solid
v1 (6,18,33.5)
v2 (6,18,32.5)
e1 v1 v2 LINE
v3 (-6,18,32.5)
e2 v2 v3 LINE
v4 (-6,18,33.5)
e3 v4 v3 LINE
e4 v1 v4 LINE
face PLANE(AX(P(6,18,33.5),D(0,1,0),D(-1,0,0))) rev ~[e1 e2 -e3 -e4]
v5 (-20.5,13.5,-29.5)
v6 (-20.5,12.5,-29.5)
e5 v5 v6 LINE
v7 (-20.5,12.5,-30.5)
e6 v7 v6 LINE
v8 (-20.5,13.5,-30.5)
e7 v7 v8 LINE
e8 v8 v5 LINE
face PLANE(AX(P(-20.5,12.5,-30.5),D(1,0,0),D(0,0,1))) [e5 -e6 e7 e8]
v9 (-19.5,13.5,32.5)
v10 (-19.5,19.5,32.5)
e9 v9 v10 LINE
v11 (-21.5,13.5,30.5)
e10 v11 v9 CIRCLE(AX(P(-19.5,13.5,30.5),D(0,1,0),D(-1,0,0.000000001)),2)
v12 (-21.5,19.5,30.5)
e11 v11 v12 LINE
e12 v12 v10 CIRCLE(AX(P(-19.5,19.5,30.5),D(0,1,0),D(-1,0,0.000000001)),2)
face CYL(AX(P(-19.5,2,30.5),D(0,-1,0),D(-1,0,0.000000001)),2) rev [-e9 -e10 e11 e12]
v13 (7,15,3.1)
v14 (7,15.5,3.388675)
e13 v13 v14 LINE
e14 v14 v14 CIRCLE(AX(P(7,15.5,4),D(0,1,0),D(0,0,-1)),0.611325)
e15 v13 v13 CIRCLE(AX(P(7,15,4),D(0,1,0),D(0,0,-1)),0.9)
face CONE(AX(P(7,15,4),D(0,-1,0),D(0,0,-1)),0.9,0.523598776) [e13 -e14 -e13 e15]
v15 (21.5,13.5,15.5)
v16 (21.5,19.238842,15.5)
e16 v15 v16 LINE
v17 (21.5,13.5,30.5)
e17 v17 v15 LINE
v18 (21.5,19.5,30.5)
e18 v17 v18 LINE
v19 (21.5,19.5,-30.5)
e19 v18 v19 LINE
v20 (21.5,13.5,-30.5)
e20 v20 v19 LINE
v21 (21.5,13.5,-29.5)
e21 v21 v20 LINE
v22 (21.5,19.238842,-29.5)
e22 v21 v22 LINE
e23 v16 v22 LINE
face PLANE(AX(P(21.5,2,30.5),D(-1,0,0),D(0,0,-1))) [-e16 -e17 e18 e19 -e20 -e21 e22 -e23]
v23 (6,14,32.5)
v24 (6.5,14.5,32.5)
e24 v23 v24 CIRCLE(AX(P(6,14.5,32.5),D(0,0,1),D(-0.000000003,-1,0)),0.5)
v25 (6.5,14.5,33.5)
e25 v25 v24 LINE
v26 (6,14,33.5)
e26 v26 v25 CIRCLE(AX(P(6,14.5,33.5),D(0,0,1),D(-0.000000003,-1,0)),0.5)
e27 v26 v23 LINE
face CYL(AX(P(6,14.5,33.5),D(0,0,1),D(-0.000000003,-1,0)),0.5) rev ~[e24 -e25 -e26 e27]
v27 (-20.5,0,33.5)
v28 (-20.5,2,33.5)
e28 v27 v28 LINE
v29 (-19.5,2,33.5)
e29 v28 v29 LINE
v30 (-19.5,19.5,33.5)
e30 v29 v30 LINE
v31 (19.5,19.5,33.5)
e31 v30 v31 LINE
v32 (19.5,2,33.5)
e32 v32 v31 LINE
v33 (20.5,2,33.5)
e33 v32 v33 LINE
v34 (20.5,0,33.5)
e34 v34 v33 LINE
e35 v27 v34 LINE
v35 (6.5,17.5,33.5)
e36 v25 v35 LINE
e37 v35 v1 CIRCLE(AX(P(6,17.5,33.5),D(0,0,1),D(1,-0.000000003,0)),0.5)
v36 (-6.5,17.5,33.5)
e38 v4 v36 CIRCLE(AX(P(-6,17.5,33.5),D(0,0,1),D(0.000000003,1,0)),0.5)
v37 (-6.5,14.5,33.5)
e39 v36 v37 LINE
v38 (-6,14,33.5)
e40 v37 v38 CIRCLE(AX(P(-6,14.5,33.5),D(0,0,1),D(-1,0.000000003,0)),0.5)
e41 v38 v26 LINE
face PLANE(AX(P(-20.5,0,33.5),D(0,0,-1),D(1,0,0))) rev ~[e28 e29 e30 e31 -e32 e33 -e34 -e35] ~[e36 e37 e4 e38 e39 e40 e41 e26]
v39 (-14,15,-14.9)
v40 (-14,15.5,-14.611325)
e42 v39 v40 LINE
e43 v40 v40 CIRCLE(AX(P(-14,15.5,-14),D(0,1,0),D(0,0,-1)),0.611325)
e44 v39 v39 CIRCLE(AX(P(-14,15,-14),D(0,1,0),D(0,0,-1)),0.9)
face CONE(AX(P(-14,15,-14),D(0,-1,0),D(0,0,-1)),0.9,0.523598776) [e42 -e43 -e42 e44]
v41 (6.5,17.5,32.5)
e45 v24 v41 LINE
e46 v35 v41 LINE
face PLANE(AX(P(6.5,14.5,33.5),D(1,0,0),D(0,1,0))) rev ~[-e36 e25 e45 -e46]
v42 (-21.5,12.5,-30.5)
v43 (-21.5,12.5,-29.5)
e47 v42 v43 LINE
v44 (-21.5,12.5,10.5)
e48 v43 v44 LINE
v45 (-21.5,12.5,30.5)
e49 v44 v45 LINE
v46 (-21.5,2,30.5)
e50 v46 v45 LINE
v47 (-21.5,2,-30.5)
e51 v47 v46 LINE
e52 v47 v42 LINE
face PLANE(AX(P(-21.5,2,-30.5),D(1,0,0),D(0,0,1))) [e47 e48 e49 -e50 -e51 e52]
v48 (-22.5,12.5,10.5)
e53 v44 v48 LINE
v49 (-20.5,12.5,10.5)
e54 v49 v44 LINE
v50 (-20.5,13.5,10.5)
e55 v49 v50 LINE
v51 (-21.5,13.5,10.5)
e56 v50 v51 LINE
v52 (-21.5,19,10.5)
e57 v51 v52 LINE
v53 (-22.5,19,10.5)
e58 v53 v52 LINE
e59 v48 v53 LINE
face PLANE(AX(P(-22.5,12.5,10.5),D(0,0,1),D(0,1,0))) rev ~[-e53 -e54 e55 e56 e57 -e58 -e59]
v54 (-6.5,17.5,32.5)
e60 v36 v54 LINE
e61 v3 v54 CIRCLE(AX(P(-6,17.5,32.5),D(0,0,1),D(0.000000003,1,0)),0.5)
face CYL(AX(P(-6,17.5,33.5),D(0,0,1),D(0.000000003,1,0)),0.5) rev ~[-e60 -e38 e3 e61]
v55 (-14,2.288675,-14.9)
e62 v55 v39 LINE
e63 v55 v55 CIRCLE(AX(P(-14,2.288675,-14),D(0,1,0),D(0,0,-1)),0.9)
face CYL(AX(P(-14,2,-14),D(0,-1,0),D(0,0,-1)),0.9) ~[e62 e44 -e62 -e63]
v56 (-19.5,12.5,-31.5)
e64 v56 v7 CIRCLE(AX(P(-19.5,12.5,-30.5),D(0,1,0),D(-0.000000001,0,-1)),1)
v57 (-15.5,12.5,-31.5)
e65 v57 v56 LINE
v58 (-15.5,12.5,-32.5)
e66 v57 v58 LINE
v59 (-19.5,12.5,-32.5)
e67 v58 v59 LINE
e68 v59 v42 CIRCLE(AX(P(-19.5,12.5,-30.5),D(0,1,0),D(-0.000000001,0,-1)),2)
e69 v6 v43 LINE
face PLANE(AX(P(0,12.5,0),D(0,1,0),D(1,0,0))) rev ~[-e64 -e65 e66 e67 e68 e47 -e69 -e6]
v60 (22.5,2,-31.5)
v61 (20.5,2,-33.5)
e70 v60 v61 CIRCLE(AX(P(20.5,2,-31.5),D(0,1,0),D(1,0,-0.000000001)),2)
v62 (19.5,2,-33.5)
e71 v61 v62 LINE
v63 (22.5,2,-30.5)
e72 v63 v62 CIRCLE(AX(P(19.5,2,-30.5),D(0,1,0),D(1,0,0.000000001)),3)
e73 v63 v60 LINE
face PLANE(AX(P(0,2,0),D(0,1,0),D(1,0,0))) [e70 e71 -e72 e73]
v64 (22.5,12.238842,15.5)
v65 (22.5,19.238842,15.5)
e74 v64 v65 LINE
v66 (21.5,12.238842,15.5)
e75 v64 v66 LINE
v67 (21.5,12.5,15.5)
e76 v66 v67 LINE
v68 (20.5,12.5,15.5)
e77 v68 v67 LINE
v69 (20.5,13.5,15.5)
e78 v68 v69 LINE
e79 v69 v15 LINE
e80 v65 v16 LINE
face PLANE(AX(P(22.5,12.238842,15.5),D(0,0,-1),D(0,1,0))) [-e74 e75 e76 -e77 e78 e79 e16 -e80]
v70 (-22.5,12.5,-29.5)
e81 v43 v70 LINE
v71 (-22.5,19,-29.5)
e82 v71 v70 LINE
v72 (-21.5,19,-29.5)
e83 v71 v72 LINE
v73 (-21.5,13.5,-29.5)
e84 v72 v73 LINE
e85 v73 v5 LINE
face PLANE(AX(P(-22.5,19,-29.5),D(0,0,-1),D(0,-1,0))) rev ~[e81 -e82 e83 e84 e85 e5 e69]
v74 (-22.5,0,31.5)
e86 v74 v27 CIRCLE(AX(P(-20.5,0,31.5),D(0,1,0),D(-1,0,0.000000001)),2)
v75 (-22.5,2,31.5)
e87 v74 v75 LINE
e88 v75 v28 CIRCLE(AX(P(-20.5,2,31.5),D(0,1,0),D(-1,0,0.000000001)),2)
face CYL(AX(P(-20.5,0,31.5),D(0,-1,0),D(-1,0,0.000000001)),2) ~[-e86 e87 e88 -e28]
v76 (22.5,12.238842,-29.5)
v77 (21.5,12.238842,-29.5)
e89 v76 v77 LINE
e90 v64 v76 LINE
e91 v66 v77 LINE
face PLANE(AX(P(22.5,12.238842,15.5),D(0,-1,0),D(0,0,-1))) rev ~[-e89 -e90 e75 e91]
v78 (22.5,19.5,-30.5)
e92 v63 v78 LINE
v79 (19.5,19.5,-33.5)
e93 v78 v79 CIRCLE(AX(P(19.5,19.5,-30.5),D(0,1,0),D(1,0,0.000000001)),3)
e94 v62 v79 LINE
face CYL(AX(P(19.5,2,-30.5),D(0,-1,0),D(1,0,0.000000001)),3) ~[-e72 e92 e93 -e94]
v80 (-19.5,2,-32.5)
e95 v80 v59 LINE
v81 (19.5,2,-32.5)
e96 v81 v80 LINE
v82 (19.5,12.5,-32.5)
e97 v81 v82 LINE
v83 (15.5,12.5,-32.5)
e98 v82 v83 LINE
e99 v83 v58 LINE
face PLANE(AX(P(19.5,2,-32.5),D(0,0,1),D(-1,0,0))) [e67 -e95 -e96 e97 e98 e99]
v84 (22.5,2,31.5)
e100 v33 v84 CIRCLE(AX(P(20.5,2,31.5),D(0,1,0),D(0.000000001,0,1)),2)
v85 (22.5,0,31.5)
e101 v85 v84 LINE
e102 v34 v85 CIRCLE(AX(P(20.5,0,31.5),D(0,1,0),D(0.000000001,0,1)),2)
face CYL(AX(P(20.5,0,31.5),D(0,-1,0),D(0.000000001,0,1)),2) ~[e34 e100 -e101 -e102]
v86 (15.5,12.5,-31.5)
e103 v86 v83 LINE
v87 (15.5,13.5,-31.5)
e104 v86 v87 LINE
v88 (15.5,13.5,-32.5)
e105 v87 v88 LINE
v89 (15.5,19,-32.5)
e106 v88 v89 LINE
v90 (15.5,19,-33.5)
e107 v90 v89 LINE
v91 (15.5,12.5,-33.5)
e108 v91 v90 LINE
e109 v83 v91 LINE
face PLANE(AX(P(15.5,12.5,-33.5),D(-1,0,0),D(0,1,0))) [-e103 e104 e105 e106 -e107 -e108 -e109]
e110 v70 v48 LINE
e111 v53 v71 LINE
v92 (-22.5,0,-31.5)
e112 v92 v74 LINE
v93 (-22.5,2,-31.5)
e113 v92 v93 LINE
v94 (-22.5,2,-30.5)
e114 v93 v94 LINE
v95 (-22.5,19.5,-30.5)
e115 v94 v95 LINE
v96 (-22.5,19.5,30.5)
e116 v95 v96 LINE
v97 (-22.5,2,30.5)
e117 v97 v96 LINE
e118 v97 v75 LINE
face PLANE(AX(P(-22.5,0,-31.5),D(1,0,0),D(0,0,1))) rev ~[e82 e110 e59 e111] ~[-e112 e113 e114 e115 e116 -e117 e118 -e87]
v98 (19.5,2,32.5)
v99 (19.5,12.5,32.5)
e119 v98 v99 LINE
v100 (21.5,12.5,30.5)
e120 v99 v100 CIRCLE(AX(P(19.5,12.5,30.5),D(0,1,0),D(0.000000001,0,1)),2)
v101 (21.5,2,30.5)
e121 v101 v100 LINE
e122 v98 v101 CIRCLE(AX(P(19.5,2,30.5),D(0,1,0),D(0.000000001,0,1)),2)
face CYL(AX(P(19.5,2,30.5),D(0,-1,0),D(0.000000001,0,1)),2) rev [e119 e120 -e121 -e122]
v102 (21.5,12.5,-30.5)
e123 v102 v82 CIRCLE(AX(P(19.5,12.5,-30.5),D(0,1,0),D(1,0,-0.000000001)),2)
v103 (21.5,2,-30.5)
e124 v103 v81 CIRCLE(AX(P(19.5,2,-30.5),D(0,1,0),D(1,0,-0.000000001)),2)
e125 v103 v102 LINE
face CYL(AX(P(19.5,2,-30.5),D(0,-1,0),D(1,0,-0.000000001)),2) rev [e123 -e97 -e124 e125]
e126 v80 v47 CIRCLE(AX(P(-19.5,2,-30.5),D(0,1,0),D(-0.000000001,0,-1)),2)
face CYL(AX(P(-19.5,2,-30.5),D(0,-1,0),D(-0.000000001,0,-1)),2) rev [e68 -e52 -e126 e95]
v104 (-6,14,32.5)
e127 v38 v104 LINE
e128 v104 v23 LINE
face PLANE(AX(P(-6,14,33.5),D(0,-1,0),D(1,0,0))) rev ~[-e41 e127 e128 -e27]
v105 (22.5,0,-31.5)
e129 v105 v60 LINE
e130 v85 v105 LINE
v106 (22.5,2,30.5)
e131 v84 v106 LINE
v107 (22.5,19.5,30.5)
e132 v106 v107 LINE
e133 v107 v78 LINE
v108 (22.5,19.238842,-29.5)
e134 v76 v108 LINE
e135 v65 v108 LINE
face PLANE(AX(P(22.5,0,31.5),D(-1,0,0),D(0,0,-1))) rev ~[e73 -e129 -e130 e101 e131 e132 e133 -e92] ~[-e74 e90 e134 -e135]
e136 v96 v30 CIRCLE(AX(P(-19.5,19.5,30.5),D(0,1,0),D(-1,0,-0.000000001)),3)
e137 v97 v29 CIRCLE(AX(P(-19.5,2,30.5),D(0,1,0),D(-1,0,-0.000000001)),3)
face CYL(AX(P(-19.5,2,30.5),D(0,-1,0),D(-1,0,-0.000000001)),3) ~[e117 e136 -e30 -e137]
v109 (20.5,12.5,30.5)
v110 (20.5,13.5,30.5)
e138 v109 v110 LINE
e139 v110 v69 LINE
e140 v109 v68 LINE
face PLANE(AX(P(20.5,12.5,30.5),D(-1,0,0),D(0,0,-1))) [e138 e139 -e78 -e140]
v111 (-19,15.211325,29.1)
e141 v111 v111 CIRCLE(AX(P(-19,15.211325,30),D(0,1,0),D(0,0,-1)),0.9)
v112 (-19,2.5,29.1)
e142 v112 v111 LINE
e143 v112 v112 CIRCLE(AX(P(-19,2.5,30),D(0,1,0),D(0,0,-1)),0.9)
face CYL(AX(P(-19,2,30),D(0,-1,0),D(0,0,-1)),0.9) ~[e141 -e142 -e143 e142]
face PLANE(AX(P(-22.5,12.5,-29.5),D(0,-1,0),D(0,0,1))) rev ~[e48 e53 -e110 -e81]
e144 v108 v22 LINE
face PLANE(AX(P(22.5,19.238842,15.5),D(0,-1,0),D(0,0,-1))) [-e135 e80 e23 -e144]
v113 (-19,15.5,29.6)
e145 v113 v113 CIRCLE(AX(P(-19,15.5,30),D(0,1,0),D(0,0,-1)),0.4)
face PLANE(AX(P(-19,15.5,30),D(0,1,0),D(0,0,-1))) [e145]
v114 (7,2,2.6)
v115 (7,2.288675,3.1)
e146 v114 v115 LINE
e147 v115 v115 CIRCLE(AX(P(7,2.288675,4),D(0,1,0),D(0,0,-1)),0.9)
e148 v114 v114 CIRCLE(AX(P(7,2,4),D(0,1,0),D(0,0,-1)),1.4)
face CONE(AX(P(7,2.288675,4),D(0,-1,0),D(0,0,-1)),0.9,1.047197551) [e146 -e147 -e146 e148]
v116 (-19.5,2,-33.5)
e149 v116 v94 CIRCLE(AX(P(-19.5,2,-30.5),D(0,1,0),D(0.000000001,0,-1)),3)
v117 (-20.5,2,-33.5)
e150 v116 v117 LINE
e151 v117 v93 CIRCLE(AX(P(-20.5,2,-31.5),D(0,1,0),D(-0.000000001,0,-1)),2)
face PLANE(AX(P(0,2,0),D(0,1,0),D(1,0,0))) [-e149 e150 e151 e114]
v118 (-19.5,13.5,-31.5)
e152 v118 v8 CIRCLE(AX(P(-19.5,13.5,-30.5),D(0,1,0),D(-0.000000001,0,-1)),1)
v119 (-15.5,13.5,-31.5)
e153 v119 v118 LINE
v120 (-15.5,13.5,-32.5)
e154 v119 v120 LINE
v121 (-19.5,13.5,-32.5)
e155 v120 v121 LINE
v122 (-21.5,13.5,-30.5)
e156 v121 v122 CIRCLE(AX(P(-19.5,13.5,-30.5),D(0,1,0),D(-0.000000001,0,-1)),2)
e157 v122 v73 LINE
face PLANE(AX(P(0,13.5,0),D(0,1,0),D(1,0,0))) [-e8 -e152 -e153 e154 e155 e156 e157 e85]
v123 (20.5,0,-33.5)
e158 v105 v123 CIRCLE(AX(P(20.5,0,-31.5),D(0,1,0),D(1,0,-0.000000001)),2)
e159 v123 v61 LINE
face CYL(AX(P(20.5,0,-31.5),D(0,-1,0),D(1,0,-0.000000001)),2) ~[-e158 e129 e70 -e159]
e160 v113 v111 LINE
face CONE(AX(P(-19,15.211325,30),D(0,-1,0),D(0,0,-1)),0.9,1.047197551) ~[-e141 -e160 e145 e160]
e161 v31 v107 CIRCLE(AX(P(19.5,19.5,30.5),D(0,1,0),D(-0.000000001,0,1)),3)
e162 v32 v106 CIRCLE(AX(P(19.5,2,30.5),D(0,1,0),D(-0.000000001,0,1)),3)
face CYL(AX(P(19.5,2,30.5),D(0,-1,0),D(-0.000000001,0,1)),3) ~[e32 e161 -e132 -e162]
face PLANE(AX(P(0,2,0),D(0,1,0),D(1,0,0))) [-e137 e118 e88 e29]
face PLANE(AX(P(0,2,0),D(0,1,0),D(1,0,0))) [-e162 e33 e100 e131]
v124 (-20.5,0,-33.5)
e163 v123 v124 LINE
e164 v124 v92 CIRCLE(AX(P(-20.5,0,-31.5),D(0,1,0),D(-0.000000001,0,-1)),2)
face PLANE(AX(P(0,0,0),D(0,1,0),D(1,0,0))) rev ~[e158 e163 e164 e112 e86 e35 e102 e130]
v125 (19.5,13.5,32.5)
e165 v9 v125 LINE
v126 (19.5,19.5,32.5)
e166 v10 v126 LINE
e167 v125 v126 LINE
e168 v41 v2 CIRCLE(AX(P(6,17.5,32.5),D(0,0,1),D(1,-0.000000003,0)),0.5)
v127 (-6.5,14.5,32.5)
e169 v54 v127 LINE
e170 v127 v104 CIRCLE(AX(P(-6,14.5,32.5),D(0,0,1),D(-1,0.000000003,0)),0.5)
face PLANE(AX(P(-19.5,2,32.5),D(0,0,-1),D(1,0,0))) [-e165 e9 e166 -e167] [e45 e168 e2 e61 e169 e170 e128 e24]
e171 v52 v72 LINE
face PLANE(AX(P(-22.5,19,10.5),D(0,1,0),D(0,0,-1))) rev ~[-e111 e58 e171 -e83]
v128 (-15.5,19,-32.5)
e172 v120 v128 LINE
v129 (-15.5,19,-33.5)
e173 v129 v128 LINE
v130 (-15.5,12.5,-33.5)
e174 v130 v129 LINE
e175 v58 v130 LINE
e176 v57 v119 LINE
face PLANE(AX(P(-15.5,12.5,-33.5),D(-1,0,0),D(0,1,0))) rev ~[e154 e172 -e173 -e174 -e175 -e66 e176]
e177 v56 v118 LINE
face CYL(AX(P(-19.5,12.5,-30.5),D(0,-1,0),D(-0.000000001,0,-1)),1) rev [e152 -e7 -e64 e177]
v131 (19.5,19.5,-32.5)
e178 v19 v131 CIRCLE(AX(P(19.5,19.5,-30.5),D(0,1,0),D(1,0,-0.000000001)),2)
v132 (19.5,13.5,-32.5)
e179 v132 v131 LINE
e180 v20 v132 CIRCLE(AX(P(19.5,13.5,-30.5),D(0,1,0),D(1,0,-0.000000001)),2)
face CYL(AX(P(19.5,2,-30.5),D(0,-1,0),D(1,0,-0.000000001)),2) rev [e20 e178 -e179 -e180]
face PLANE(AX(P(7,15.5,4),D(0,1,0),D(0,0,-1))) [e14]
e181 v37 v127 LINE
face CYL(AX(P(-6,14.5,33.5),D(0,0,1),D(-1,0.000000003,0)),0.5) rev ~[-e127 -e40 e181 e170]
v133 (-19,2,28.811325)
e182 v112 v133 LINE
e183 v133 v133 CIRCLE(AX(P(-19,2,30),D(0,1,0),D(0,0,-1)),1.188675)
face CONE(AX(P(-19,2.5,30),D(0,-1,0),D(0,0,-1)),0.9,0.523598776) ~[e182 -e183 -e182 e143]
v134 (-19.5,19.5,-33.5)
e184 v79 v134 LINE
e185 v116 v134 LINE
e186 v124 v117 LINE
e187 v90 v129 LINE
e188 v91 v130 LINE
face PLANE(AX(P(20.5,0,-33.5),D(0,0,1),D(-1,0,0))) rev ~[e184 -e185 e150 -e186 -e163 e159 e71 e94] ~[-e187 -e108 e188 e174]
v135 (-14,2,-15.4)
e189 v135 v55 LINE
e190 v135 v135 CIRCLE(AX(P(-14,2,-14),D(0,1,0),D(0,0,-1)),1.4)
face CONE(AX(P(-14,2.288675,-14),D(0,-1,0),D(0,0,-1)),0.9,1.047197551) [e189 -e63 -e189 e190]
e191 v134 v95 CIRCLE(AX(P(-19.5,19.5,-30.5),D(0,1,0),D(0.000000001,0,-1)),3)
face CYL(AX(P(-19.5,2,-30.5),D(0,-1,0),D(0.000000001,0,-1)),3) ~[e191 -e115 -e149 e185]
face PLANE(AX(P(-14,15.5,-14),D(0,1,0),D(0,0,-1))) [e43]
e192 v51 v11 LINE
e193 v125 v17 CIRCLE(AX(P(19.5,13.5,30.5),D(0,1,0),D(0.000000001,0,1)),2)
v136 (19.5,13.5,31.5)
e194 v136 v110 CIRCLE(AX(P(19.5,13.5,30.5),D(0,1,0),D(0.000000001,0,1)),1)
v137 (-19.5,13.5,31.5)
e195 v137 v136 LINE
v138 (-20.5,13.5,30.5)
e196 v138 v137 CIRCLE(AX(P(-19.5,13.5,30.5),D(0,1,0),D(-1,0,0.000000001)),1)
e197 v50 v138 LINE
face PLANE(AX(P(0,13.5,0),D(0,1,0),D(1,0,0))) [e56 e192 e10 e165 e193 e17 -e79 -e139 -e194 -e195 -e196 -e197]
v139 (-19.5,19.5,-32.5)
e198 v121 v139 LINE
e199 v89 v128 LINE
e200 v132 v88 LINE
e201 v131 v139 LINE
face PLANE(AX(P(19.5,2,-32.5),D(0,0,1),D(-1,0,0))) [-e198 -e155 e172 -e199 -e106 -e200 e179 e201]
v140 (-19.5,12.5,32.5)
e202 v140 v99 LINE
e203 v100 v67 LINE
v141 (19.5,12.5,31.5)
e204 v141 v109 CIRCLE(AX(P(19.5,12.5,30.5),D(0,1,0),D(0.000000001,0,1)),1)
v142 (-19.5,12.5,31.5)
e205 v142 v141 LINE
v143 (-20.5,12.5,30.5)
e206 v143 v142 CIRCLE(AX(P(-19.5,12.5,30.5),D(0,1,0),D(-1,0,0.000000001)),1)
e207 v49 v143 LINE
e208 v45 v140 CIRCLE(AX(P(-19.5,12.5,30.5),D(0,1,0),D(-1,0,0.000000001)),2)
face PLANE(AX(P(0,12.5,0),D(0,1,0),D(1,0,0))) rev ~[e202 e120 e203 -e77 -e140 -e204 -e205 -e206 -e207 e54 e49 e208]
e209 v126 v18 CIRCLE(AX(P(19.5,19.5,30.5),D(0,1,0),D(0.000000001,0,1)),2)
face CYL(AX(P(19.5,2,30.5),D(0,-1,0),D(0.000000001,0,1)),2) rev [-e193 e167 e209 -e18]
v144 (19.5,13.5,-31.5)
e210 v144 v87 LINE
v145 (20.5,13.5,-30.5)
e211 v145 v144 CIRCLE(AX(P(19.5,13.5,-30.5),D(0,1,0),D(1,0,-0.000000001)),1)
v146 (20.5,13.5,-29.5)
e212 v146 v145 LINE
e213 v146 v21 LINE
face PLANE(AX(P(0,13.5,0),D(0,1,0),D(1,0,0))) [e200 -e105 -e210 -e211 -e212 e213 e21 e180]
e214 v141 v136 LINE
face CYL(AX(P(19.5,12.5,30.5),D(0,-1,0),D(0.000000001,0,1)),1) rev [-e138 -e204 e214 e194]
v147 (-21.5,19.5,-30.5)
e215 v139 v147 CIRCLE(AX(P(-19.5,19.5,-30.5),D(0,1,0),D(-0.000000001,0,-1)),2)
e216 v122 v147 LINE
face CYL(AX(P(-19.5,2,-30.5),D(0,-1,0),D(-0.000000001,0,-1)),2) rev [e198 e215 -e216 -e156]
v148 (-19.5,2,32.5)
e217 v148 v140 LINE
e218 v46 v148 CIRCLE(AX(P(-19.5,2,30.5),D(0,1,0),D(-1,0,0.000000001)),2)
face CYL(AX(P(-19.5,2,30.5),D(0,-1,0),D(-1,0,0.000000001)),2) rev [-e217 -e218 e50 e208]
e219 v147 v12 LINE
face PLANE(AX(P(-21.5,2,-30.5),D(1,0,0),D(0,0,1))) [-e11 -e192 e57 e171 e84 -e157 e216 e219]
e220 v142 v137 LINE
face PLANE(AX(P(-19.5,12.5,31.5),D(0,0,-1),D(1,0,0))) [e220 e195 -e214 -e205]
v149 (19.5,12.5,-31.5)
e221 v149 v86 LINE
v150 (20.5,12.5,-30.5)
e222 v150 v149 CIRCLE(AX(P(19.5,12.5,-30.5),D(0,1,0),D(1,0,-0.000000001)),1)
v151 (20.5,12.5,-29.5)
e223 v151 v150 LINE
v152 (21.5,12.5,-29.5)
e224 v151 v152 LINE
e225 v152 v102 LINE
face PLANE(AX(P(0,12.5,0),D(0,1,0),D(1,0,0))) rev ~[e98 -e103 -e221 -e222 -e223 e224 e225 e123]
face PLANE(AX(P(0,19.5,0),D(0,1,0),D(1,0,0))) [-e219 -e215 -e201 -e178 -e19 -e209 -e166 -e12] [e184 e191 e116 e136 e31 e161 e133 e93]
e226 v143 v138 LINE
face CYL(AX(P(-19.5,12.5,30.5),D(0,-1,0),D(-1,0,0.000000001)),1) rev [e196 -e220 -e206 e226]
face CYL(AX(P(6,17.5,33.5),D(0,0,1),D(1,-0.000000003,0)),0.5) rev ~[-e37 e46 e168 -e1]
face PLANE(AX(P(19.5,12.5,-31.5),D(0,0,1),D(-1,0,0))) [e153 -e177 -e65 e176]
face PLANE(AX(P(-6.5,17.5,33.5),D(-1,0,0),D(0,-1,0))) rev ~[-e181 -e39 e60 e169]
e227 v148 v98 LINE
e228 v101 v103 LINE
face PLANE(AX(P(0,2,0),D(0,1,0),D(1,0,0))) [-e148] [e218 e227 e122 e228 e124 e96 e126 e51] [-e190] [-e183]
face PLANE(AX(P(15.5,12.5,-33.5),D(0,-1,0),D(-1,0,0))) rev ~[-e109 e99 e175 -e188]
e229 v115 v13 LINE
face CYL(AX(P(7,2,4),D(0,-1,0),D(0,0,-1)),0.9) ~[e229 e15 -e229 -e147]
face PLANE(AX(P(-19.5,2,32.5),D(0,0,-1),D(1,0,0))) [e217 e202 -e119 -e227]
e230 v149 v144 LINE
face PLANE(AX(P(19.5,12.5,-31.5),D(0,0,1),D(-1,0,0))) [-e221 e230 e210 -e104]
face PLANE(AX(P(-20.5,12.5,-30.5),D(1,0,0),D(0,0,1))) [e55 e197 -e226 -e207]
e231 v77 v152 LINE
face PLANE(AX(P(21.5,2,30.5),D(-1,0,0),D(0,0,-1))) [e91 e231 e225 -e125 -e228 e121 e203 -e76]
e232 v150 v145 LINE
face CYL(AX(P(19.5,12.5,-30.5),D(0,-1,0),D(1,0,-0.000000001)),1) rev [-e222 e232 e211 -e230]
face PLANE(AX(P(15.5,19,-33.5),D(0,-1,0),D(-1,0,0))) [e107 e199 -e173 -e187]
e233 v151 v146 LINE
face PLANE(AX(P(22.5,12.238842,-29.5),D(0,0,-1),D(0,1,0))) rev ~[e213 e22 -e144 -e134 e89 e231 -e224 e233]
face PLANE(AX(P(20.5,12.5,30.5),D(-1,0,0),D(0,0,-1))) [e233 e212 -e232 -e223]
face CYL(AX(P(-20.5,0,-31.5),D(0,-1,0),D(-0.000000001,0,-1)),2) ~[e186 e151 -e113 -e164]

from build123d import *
from OCP.BRepFilletAPI import BRepFilletAPI_MakeChamfer

# Parameters (mm, degrees)
EXTRUDE_1_DEPTH     = 2
EXTRUDE_2_DEPTH     = 17.5
SKETCH_3_R          = 0.9
EXTRUDE_3_DEPTH     = 13.5
CHAMFER_2_SIZE      = 0.5
CHAMFER_2_SIZE2     = 0.288675135
CHAMFER_3_SIZE      = 0.5
CHAMFER_3_SIZE2     = 0.288675135
CHAMFER_4_SIZE      = 0.5
CHAMFER_4_SIZE2     = 0.288675135
EXTRUDE_5_DEPTH     = 1
CUT_EXTRUDE_1_REACH = 75.318
CUT_EXTRUDE_2_REACH = 61.393
SKETCH_7_W          = 45
SKETCH_7_H          = 7
CUT_EXTRUDE_3_REACH = 61.393
CUT_EXTRUDE_4_REACH = 75.318
SKETCH_9_W          = 31
SKETCH_9_H          = 6.5


with BuildPart() as part:
    # 草图1 → 凸台-拉伸1 (new body)
    with BuildSketch(Plane(origin=(0, 0, 0), x_dir=(1, 0, 0), z_dir=(0, 1, 0))):
        with BuildLine():
            Line((-22.5, 31.5), (-22.5, -31.5))
            ThreePointArc((-22.5, -31.5), (-21.914213562, -32.914213562), (-20.5, -33.5))
            Line((-20.5, -33.5), (20.5, -33.5))
            ThreePointArc((20.5, -33.5), (21.914213562, -32.914213562), (22.5, -31.5))
            Line((22.5, -31.5), (22.5, 31.5))
            ThreePointArc((22.5, 31.5), (21.914213562, 32.914213562), (20.5, 33.5))
            Line((20.5, 33.5), (-20.5, 33.5))
            ThreePointArc((-20.5, 33.5), (-21.914213562, 32.914213562), (-22.5, 31.5))
        make_face()
    extrude(amount=EXTRUDE_1_DEPTH)

    # 草图2 → 凸台-拉伸2 (add)
    with BuildSketch(Plane(origin=(0, 2, 0), x_dir=(1, 0, 0), z_dir=(0, 1, 0))):
        with BuildLine():
            Line((19.5, 33.5), (-19.5, 33.5))
            ThreePointArc((-19.5, 33.5), (-21.621320344, 32.621320344), (-22.5, 30.5))
            Line((-22.5, 30.5), (-22.5, -30.5))
            ThreePointArc((-22.5, -30.5), (-21.621320344, -32.621320344), (-19.5, -33.5))
            Line((-19.5, -33.5), (19.5, -33.5))
            ThreePointArc((19.5, -33.5), (21.621320344, -32.621320344), (22.5, -30.5))
            Line((22.5, -30.5), (22.5, 30.5))
            ThreePointArc((22.5, 30.5), (21.621320344, 32.621320344), (19.5, 33.5))
        make_face()
        with BuildLine():
            Line((-21.5, 30.5), (-21.5, -30.5))
            ThreePointArc((-21.5, -30.5), (-20.914213562, -31.914213562), (-19.5, -32.5))
            Line((-19.5, -32.5), (19.5, -32.5))
            ThreePointArc((19.5, -32.5), (20.914213562, -31.914213562), (21.5, -30.5))
            Line((21.5, -30.5), (21.5, 30.5))
            ThreePointArc((21.5, 30.5), (20.914213562, 31.914213562), (19.5, 32.5))
            Line((19.5, 32.5), (-19.5, 32.5))
            ThreePointArc((-19.5, 32.5), (-20.914213562, 31.914213562), (-21.5, 30.5))
        make_face(mode=Mode.SUBTRACT)
    extrude(amount=EXTRUDE_2_DEPTH)

    # 草图3 → 凸台-拉伸3 (add)
    with BuildSketch(Plane(origin=(0, 2, 0), x_dir=(1, 0, 0), z_dir=(0, 1, 0))):
        with Locations(Location((-14, 14, 0), (0, 0, 90))):
            Circle(SKETCH_3_R)
        with Locations(Location((7, -4, 0), (0, 0, 90))):
            Circle(SKETCH_3_R)
        with Locations(Location((-19, -30, 0), (0, 0, 90))):
            Circle(SKETCH_3_R)
    extrude(amount=EXTRUDE_3_DEPTH)

    # 倒角2: one chamfer whose edges measure the first distance from different faces: ONE call of the kernel's chamfer builder (chamfer() names one face for all edges)
    chamfer_2_edges_1 = [part.edges().sort_by_distance(p)[0] for p in [
        (-14, 2, -13.1),
    ]]
    chamfer_2_side_1 = [part.faces().sort_by_distance(p)[0] for p in [
        (0.023765643, 2, -0.018281264),
    ]]
    chamfer_2_edges_2 = [part.edges().sort_by_distance(p)[0] for p in [
        (-14, 15.5, -13.1),
    ]]
    chamfer_2_side_2 = [part.faces().sort_by_distance(p)[0] for p in [
        (-14, 8.75, -13.1),
    ]]
    chamfer_2 = BRepFilletAPI_MakeChamfer(part.part.solid().wrapped)
    for e in chamfer_2_edges_1:
        chamfer_2.Add(CHAMFER_2_SIZE, CHAMFER_2_SIZE2, e.wrapped, chamfer_2_side_1[0].wrapped)  # the first distance lies on this face
    for e in chamfer_2_edges_2:
        chamfer_2.Add(CHAMFER_2_SIZE, CHAMFER_2_SIZE2, e.wrapped, chamfer_2_side_2[0].wrapped)  # the first distance lies on this face
    add(Compound.cast(chamfer_2.Shape()), mode=Mode.REPLACE)

    # 倒角3: one chamfer whose edges measure the first distance from different faces: ONE call of the kernel's chamfer builder (chamfer() names one face for all edges)
    chamfer_3_edges_1 = [part.edges().sort_by_distance(p)[0] for p in [
        (7, 2, 4.9),
    ]]
    chamfer_3_side_1 = [part.faces().sort_by_distance(p)[0] for p in [
        (0.04198855, 2, -0.000112994),
    ]]
    chamfer_3_edges_2 = [part.edges().sort_by_distance(p)[0] for p in [
        (7, 15.5, 4.9),
    ]]
    chamfer_3_side_2 = [part.faces().sort_by_distance(p)[0] for p in [
        (7, 8.75, 4.9),
    ]]
    chamfer_3 = BRepFilletAPI_MakeChamfer(part.part.solid().wrapped)
    for e in chamfer_3_edges_1:
        chamfer_3.Add(CHAMFER_3_SIZE, CHAMFER_3_SIZE2, e.wrapped, chamfer_3_side_1[0].wrapped)  # the first distance lies on this face
    for e in chamfer_3_edges_2:
        chamfer_3.Add(CHAMFER_3_SIZE, CHAMFER_3_SIZE2, e.wrapped, chamfer_3_side_2[0].wrapped)  # the first distance lies on this face
    add(Compound.cast(chamfer_3.Shape()), mode=Mode.REPLACE)

    # 倒角4: one chamfer whose edges measure the first distance from different faces: ONE call of the kernel's chamfer builder (chamfer() names one face for all edges)
    chamfer_4_edges_1 = [part.edges().sort_by_distance(p)[0] for p in [
        (-19, 2, 30.9),
    ]]
    chamfer_4_side_1 = [part.faces().sort_by_distance(p)[0] for p in [
        (-19, 8.75, 30.9),
    ]]
    chamfer_4_edges_2 = [part.edges().sort_by_distance(p)[0] for p in [
        (-19, 15.5, 30.9),
    ]]
    chamfer_4_side_2 = [part.faces().sort_by_distance(p)[0] for p in [
        (-19, 15.5, 30),
    ]]
    chamfer_4 = BRepFilletAPI_MakeChamfer(part.part.solid().wrapped)
    for e in chamfer_4_edges_1:
        chamfer_4.Add(CHAMFER_4_SIZE, CHAMFER_4_SIZE2, e.wrapped, chamfer_4_side_1[0].wrapped)  # the first distance lies on this face
    for e in chamfer_4_edges_2:
        chamfer_4.Add(CHAMFER_4_SIZE, CHAMFER_4_SIZE2, e.wrapped, chamfer_4_side_2[0].wrapped)  # the first distance lies on this face
    add(Compound.cast(chamfer_4.Shape()), mode=Mode.REPLACE)

    # 草图6 → 凸台-拉伸5 (add)
    with BuildSketch(Plane(origin=(0, 12.5, 0), x_dir=(1, 0, 0), z_dir=(0, 1, 0))):
        with BuildLine():
            Line((-21.5, 30.5), (-21.5, -30.5))
            ThreePointArc((-21.5, -30.5), (-20.914213562, -31.914213562), (-19.5, -32.5))
            Line((-19.5, -32.5), (19.5, -32.5))
            ThreePointArc((19.5, -32.5), (20.914213562, -31.914213562), (21.5, -30.5))
            Line((21.5, -30.5), (21.5, 30.5))
            ThreePointArc((21.5, 30.5), (20.914213562, 31.914213562), (19.5, 32.5))
            Line((19.5, 32.5), (-19.5, 32.5))
            ThreePointArc((-19.5, 32.5), (-20.914213562, 31.914213562), (-21.5, 30.5))
        make_face()
        with BuildLine():
            Line((19.5, 31.5), (-19.5, 31.5))
            ThreePointArc((-19.5, 31.5), (-20.207106781, 31.207106781), (-20.5, 30.5))
            Line((-20.5, 30.5), (-20.5, -30.5))
            ThreePointArc((-20.5, -30.5), (-20.207106781, -31.207106781), (-19.5, -31.5))
            Line((-19.5, -31.5), (19.5, -31.5))
            ThreePointArc((19.5, -31.5), (20.207106781, -31.207106781), (20.5, -30.5))
            Line((20.5, -30.5), (20.5, 30.5))
            ThreePointArc((20.5, 30.5), (20.207106781, 31.207106781), (19.5, 31.5))
        make_face(mode=Mode.SUBTRACT)
    extrude(amount=EXTRUDE_5_DEPTH)

    # 草图4 → 切除-拉伸1 (cut, up to next)
    with BuildSketch(Plane.XY.offset(33.5), mode=Mode.PRIVATE) as cut_extrude_1_sk1:
        with BuildLine():
            Line((-6.5, 17.5), (-6.5, 14.5))
            ThreePointArc((-6.5, 14.5), (-6.353553391, 14.146446609), (-6, 14))
            Line((-6, 14), (6, 14))
            ThreePointArc((6, 14), (6.353553391, 14.146446609), (6.5, 14.5))
            Line((6.5, 14.5), (6.5, 17.5))
            ThreePointArc((6.5, 17.5), (6.353553391, 17.853553391), (6, 18))
            Line((6, 18), (-6, 18))
            ThreePointArc((-6, 18), (-6.353553391, 17.853553391), (-6.5, 17.5))
        make_face()
    cut_extrude_1_tool1 = extrude(cut_extrude_1_sk1.sketch, amount=-CUT_EXTRUDE_1_REACH, mode=Mode.PRIVATE) & part.part
    add(cut_extrude_1_tool1.solids().sort_by_distance((0, 16, 33.5))[0], mode=Mode.SUBTRACT)

    # 草图7 → 切除-拉伸2 (cut, up to next)
    with BuildSketch(Plane(origin=(22.5, 0, 0), x_dir=(0, 0, -1), z_dir=(1, 0, 0)), mode=Mode.PRIVATE) as cut_extrude_2_sk1:
        with Locations((7, 15.73884151)):
            Rectangle(SKETCH_7_W, SKETCH_7_H)
    cut_extrude_2_tool1 = extrude(cut_extrude_2_sk1.sketch, amount=-CUT_EXTRUDE_2_REACH, mode=Mode.PRIVATE) & part.part
    add(cut_extrude_2_tool1.solids().sort_by_distance((22.5, 15.738842, -7))[0], mode=Mode.SUBTRACT)

    # 草图8 → 切除-拉伸3 (cut, up to next)
    with BuildSketch(Plane.ZY.offset(22.5), mode=Mode.PRIVATE) as cut_extrude_3_sk1:
        Polygon((-29.5, 19), (-29.5, 12.5), (10.5, 12.5), (10.5, 15.014135881), (10.5, 19), align=None)
    cut_extrude_3_tool1 = extrude(cut_extrude_3_sk1.sketch, amount=-CUT_EXTRUDE_3_REACH, mode=Mode.PRIVATE) & part.part
    add(cut_extrude_3_tool1.solids().sort_by_distance((-22.5, 15.75, -9.5))[0], mode=Mode.SUBTRACT)

    # 草图9 → 切除-拉伸4 (cut, up to next)
    with BuildSketch(Plane(origin=(0, 0, -33.5), x_dir=(-1, 0, 0), z_dir=(0, 0, -1)), mode=Mode.PRIVATE) as cut_extrude_4_sk1:
        with Locations((0, 15.75)):
            Rectangle(SKETCH_9_W, SKETCH_9_H)
    cut_extrude_4_tool1 = extrude(cut_extrude_4_sk1.sketch, amount=-CUT_EXTRUDE_4_REACH, mode=Mode.PRIVATE) & part.part
    add(cut_extrude_4_tool1.solids().sort_by_distance((0, 15.75, -33.5))[0], mode=Mode.SUBTRACT)


solid = part.part
